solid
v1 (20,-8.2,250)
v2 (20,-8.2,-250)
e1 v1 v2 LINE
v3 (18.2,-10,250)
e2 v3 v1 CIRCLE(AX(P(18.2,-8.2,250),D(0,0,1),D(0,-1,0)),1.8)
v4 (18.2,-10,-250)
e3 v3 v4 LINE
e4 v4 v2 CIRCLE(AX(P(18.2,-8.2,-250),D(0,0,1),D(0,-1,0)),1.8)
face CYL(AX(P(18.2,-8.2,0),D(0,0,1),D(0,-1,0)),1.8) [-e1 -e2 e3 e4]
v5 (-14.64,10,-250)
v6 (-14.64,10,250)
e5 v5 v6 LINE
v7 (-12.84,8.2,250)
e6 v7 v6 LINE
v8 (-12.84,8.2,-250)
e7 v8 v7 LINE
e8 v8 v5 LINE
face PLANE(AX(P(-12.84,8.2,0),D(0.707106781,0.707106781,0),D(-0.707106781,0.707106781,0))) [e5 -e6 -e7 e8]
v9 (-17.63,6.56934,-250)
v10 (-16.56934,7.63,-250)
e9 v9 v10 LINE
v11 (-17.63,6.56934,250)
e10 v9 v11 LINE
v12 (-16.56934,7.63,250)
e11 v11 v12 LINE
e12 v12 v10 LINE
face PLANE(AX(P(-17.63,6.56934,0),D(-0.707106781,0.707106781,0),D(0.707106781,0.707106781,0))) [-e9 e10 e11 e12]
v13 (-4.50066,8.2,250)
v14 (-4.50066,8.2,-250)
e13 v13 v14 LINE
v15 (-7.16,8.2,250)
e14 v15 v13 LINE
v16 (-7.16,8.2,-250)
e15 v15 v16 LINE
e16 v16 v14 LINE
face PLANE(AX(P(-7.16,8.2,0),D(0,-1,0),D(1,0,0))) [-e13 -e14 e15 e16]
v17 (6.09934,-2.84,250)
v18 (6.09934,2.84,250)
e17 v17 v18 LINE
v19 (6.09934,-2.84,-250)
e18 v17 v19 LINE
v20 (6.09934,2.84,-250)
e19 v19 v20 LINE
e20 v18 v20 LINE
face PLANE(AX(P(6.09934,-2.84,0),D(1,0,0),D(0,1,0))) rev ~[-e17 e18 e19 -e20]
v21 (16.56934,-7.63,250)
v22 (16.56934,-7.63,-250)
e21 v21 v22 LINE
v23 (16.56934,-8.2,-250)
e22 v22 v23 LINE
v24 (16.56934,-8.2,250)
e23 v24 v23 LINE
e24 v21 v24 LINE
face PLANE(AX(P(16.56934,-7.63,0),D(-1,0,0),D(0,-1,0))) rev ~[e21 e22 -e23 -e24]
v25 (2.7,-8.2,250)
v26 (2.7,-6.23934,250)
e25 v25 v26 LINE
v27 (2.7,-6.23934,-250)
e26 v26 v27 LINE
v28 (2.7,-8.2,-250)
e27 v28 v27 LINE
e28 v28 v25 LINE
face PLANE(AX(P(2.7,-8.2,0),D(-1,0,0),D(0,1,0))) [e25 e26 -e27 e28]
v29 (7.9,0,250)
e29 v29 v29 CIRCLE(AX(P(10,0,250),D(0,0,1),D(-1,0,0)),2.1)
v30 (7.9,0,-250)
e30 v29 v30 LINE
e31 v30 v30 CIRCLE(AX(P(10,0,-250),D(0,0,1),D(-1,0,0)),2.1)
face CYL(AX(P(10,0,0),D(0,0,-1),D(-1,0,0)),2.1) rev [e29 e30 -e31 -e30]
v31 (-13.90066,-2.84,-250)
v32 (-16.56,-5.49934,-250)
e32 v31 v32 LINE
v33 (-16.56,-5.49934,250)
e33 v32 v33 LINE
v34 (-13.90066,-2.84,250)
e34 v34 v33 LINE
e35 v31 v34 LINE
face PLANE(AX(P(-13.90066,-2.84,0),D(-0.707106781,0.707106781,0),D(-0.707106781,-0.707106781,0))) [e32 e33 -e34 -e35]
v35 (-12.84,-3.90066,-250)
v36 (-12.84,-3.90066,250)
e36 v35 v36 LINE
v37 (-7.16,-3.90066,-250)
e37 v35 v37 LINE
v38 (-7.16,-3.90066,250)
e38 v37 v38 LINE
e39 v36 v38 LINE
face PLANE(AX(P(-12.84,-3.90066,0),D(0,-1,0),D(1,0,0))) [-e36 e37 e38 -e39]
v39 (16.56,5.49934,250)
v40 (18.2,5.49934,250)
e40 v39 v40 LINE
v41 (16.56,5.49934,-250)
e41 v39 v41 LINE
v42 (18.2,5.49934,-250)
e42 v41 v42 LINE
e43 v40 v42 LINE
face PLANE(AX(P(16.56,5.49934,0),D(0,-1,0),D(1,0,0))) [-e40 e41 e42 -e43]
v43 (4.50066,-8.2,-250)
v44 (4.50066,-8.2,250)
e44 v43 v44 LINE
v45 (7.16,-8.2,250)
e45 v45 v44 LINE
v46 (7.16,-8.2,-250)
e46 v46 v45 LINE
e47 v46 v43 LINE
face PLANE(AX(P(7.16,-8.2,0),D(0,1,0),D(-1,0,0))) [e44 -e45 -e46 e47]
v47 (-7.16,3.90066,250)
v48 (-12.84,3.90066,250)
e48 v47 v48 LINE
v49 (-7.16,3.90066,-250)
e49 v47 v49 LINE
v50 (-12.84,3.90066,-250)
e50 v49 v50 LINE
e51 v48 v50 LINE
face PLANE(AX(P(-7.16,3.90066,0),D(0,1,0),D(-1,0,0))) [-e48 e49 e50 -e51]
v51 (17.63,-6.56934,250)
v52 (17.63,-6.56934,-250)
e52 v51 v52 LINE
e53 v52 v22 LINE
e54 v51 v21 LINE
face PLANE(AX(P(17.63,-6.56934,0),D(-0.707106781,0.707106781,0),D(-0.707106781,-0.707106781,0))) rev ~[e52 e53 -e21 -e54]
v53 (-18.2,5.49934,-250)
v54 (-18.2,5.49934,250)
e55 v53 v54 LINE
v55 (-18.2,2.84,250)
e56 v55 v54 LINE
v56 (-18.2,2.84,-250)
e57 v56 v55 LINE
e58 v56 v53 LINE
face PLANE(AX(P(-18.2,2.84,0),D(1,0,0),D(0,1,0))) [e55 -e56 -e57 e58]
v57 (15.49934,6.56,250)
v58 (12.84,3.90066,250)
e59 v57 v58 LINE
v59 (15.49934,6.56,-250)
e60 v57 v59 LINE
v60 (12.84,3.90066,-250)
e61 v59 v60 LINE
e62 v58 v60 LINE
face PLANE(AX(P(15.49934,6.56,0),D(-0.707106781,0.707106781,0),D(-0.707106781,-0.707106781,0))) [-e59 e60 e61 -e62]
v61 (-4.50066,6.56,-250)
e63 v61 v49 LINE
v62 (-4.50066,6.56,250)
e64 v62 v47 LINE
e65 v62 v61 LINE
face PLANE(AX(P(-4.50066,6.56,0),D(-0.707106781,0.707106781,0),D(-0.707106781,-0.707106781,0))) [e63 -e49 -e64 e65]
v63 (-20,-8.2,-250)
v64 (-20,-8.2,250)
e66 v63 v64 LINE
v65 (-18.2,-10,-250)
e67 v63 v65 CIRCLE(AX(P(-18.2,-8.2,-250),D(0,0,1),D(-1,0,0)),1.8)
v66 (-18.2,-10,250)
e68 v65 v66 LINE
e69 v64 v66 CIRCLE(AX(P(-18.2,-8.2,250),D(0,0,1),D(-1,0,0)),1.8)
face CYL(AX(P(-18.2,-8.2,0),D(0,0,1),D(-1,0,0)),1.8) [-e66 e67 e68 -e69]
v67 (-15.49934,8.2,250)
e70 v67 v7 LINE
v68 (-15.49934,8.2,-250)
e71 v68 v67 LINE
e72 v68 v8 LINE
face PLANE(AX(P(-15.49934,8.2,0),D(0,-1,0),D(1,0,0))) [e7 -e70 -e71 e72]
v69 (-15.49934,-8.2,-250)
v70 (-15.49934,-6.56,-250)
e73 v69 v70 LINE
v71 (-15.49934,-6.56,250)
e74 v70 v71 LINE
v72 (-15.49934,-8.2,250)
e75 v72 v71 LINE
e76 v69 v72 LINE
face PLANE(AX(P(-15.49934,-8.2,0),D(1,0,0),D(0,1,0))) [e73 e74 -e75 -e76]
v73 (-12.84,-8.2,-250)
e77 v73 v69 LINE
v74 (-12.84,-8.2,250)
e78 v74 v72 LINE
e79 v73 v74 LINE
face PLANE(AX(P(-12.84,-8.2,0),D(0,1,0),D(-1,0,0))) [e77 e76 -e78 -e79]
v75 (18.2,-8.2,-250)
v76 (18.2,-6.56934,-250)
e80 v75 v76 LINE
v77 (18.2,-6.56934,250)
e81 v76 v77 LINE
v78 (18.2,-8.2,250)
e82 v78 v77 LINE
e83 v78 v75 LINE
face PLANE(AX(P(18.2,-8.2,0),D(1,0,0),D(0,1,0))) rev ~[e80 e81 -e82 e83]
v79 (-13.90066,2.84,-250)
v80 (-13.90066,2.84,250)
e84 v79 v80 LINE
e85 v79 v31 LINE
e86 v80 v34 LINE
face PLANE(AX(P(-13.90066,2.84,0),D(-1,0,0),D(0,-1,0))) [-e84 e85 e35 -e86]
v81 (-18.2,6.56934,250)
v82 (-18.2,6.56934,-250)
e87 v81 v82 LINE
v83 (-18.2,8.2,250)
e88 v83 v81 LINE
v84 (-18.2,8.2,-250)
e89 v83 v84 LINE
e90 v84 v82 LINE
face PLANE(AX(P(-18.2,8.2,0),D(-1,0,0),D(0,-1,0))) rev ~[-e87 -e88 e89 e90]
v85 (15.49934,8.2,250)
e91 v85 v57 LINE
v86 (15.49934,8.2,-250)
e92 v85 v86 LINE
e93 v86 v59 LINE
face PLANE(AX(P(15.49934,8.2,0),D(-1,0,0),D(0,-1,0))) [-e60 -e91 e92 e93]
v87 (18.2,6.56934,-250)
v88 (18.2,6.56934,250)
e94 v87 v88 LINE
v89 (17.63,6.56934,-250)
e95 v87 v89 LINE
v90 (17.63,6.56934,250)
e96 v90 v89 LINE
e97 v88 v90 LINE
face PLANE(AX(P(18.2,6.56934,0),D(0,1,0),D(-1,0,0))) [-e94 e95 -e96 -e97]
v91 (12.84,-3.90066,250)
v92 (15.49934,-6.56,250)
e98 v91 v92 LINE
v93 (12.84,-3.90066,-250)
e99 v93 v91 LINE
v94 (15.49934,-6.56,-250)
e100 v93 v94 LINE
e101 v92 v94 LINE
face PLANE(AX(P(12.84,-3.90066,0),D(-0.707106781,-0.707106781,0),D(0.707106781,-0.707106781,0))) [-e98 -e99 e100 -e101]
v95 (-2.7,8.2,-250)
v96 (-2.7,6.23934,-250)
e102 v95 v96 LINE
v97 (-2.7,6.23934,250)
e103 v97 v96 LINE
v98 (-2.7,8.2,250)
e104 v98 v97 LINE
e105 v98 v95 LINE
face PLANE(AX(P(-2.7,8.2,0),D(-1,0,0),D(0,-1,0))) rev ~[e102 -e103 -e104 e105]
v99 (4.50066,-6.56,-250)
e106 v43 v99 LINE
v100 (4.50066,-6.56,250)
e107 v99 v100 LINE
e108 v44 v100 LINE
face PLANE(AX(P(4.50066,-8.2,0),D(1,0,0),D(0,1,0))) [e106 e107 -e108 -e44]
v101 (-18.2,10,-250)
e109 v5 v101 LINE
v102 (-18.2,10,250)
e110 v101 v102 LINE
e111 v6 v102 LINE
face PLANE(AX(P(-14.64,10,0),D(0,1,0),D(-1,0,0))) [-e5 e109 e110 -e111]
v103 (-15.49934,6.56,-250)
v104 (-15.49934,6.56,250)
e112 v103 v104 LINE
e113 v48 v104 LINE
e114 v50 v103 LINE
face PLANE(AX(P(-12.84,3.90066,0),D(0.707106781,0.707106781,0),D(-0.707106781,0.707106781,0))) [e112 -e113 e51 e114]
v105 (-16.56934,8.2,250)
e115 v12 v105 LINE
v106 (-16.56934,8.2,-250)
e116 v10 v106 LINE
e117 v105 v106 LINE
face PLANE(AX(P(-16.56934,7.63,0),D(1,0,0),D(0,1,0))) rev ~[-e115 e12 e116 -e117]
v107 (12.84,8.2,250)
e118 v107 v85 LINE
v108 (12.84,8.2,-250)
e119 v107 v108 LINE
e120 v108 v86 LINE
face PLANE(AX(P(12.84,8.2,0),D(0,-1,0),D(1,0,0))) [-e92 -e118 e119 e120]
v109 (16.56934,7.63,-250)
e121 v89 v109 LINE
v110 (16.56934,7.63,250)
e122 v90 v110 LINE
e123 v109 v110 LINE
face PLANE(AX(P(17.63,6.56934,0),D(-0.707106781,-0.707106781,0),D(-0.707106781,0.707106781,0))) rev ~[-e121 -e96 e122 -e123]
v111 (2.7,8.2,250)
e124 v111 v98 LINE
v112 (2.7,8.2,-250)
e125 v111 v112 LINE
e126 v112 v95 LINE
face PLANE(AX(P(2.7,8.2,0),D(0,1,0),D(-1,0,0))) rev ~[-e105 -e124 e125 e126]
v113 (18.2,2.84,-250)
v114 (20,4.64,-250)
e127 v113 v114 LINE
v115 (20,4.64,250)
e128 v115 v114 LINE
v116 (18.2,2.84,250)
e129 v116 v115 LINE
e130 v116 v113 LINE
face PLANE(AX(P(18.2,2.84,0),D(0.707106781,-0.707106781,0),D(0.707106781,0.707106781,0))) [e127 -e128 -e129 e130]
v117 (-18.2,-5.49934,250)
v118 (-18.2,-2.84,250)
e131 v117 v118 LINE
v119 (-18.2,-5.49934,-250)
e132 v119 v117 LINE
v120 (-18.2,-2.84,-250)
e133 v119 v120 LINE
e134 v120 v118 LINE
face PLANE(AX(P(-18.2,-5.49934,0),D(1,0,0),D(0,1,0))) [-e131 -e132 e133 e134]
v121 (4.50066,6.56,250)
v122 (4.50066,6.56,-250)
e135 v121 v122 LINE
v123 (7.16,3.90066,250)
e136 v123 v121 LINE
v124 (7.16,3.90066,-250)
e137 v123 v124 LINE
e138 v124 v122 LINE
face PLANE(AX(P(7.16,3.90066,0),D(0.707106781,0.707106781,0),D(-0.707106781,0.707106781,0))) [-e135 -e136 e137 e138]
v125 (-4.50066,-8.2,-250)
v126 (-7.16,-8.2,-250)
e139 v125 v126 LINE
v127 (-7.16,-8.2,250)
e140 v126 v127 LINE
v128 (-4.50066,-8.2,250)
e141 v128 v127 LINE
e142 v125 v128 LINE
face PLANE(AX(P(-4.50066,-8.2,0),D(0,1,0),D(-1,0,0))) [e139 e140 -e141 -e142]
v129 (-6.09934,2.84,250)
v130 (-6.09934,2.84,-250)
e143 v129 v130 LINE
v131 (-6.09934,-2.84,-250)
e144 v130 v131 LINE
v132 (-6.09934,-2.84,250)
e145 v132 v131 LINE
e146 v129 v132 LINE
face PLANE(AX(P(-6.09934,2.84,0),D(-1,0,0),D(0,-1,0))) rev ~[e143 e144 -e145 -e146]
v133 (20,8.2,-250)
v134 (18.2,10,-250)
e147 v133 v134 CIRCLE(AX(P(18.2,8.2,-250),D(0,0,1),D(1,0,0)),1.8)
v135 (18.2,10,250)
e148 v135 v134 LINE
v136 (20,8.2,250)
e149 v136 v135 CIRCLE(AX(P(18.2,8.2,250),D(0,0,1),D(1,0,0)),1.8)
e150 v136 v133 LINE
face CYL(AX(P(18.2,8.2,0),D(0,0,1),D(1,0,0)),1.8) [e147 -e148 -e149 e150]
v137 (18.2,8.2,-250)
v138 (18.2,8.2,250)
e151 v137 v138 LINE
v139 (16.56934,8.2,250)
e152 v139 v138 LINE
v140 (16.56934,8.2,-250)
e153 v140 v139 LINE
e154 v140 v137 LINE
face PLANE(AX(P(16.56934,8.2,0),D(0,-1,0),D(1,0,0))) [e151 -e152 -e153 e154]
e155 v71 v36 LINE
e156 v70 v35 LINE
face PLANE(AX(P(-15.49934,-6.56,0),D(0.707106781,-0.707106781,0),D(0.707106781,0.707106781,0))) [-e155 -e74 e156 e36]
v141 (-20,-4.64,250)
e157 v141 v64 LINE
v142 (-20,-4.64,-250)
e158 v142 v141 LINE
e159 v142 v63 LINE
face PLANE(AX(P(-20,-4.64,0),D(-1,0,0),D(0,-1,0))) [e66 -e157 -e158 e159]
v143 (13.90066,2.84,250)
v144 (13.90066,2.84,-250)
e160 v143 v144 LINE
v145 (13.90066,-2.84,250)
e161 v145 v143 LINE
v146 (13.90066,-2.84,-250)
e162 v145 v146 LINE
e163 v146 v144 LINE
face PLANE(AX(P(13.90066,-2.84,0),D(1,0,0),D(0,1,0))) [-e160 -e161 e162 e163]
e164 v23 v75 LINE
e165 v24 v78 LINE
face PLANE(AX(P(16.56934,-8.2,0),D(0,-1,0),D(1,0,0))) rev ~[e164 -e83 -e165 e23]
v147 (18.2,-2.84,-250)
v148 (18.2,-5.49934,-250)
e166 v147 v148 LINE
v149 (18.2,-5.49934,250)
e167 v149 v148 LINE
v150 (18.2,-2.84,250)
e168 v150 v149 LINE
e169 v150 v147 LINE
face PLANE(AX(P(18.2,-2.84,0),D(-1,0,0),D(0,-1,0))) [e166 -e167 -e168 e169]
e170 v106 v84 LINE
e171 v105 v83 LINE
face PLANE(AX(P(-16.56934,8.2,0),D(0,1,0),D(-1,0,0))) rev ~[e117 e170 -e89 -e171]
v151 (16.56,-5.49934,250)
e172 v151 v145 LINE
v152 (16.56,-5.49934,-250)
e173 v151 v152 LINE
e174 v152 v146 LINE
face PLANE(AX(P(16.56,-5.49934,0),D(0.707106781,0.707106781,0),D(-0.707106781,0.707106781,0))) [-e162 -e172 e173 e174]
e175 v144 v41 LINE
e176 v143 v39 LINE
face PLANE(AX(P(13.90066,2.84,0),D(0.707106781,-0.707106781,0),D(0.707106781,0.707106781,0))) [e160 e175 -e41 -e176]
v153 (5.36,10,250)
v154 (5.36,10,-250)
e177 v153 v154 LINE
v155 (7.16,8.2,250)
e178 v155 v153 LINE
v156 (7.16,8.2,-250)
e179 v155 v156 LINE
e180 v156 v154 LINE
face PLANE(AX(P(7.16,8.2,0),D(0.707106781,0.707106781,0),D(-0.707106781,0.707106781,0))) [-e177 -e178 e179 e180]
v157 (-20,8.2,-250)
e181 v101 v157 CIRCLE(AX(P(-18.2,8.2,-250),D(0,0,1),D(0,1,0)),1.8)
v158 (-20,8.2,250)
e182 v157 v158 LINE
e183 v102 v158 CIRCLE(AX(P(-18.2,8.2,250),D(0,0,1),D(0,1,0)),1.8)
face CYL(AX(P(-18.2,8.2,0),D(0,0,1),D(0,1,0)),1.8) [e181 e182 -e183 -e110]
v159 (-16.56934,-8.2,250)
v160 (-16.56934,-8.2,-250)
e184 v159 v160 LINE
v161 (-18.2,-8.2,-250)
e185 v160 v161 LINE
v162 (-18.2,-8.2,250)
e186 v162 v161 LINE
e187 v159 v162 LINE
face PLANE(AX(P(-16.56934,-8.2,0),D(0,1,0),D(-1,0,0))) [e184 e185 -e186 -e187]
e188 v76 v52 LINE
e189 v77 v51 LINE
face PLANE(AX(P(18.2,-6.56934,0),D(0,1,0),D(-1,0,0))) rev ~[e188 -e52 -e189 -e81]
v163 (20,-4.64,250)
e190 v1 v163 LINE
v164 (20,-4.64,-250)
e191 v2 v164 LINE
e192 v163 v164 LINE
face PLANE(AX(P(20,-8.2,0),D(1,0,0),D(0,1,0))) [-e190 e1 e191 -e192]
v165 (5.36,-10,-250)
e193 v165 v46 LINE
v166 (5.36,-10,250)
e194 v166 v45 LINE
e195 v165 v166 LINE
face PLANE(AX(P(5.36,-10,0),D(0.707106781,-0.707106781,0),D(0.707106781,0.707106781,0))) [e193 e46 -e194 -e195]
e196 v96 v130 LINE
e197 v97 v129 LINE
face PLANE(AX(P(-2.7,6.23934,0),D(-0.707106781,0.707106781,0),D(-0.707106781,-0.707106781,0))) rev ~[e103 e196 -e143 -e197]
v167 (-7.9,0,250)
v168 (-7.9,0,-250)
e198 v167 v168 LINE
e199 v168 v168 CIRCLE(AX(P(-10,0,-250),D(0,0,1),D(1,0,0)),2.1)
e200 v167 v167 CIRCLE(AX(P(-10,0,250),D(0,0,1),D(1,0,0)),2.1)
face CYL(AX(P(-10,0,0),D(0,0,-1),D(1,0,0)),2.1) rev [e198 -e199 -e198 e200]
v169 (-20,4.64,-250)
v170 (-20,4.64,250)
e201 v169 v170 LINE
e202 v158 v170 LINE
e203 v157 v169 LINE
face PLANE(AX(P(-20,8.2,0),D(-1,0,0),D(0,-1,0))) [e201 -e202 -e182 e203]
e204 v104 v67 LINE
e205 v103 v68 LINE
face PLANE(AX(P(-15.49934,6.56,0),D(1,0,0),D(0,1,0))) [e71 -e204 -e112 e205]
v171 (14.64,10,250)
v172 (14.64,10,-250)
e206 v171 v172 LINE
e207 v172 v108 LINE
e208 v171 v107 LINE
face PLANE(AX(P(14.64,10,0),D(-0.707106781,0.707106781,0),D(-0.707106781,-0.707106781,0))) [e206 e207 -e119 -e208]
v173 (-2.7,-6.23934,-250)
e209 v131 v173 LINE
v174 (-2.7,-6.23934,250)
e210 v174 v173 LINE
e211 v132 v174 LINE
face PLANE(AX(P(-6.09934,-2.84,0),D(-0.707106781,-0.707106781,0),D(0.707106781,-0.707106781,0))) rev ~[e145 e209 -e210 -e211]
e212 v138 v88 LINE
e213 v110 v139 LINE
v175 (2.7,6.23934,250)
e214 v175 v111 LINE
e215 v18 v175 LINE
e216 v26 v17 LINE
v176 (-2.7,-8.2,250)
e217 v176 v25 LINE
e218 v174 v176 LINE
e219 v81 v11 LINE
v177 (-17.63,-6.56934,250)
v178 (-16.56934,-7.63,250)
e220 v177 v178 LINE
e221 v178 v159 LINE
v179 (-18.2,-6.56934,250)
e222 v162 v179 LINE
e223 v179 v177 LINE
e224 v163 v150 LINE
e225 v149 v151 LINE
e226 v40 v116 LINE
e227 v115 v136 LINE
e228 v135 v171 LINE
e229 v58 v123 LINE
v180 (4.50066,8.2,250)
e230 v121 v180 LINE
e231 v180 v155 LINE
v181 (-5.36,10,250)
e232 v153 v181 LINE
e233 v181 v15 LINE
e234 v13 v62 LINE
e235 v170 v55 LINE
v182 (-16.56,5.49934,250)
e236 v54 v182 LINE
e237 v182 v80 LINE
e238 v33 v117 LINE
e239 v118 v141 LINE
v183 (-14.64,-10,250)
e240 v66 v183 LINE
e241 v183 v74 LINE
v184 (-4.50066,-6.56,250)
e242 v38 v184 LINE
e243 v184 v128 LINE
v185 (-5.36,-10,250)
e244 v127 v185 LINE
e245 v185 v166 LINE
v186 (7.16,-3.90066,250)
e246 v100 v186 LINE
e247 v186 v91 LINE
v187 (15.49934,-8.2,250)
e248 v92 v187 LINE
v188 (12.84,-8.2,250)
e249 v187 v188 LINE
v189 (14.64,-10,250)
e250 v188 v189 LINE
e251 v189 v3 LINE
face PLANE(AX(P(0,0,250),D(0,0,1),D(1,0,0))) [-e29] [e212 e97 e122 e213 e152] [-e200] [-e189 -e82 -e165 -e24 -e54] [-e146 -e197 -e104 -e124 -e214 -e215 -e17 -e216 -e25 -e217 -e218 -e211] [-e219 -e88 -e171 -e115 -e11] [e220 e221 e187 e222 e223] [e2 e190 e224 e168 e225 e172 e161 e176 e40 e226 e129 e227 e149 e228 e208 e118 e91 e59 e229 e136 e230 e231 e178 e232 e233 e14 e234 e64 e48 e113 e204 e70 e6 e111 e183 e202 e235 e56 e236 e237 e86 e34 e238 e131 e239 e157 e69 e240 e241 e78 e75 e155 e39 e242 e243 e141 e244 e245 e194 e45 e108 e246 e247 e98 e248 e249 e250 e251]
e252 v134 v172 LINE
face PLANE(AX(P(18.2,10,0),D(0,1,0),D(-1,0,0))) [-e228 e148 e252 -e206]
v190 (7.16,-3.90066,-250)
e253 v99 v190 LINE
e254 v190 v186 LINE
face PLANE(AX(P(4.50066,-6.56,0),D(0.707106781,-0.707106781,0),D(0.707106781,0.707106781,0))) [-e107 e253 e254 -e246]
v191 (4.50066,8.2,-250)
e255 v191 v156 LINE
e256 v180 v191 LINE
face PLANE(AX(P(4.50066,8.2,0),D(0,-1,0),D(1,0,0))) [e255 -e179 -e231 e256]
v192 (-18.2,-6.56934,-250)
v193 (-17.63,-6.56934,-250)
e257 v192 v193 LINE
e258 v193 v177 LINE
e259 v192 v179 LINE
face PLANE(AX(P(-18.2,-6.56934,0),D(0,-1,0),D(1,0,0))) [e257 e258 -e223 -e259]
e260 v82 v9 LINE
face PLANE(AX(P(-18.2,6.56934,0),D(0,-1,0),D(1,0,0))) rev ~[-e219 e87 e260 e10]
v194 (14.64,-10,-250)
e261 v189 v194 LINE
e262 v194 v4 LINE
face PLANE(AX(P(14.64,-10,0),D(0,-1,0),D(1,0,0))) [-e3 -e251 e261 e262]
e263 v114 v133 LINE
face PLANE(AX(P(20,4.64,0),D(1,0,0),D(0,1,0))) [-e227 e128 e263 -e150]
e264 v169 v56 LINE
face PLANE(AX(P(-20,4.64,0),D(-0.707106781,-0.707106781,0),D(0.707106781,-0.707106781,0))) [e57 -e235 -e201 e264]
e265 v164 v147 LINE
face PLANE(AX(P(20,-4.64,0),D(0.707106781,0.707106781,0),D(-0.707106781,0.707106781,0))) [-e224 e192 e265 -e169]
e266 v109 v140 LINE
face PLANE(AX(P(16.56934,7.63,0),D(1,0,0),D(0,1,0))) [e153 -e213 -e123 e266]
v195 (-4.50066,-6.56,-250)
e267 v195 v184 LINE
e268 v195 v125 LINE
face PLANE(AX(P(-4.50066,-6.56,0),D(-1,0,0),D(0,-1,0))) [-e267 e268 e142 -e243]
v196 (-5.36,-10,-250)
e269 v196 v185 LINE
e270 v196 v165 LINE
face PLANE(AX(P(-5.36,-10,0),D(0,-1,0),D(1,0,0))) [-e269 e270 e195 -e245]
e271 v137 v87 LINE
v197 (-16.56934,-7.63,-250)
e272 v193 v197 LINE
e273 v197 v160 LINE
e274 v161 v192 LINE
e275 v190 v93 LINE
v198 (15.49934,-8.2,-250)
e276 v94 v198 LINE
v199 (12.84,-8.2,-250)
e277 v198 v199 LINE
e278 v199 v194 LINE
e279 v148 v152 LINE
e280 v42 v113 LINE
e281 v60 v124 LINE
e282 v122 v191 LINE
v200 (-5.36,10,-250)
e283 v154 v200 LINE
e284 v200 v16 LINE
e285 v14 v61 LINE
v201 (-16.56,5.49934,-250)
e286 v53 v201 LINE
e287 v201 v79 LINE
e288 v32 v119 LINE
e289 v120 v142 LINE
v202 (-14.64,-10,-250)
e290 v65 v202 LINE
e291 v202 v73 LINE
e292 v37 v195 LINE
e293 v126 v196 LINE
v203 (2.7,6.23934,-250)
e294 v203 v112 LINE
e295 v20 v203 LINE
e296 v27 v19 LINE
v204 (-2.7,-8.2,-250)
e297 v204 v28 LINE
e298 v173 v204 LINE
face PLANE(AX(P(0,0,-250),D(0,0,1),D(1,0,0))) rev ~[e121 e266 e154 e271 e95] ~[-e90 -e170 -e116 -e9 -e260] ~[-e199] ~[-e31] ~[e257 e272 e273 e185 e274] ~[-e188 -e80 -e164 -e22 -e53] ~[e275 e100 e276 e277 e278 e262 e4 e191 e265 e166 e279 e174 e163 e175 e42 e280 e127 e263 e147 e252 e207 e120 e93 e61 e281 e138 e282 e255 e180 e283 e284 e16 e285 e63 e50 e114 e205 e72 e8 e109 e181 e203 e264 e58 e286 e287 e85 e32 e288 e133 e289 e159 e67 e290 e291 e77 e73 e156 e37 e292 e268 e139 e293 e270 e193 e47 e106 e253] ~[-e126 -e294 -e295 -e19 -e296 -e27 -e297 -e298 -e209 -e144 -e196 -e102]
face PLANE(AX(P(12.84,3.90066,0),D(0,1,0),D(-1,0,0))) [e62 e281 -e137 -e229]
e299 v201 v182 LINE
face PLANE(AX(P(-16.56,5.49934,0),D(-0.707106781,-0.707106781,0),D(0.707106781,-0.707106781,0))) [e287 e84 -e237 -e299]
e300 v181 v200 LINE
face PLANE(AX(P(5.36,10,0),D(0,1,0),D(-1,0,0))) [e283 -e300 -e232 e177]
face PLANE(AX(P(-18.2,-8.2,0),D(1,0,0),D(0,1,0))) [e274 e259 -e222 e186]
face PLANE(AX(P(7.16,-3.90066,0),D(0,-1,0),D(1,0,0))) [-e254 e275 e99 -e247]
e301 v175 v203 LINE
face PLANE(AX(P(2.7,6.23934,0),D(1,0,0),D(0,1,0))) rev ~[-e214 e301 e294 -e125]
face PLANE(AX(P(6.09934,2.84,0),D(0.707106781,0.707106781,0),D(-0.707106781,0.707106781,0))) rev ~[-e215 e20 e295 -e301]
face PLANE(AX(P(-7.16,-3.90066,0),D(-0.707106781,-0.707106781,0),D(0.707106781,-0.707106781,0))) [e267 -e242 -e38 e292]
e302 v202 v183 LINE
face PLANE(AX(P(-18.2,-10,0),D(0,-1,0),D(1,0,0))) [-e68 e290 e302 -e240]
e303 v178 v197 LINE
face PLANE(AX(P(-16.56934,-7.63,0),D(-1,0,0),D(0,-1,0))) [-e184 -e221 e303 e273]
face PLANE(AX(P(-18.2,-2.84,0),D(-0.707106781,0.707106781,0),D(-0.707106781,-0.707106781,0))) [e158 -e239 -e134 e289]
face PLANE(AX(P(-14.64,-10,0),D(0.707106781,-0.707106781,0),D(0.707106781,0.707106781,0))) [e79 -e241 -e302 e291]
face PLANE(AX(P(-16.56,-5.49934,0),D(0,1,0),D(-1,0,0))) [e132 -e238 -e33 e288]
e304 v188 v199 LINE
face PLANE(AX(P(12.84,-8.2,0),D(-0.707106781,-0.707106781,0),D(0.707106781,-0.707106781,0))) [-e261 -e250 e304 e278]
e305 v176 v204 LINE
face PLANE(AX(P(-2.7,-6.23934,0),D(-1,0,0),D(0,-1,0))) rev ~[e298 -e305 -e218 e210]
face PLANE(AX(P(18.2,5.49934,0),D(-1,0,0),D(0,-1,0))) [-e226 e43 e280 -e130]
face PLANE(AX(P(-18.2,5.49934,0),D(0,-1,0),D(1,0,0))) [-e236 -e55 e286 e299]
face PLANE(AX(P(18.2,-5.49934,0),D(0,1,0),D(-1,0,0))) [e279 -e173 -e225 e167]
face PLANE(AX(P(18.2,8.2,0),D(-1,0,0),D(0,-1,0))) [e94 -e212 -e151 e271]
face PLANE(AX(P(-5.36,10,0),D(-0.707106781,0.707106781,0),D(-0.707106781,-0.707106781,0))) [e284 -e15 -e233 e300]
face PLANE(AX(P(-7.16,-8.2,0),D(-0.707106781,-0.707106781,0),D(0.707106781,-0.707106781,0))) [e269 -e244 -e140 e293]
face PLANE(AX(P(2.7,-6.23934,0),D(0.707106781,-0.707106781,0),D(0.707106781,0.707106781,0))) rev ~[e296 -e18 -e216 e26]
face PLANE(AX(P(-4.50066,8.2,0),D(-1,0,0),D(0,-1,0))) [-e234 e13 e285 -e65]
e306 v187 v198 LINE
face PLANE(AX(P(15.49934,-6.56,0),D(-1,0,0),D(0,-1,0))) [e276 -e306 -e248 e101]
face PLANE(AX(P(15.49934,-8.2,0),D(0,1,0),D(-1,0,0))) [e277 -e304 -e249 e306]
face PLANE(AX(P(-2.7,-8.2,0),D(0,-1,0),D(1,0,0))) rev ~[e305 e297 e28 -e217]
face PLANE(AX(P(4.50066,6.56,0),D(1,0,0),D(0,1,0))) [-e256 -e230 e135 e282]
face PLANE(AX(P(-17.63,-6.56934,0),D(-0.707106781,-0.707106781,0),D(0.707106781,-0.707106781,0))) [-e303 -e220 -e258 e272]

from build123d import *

# Parameters (mm, degrees)
ESQUISSE1_R        = 2.1
BOSS_EXTRU_1_DEPTH = 250


with BuildPart() as part:
    # Esquisse1 → Boss.-Extru.1 (new, symmetric)
    with BuildSketch(Plane.XY):
        with BuildLine():
            Line((-10, 3.900660172), (-12.84, 3.900660172))
            Line((-12.84, 3.900660172), (-15.499339828, 6.56))
            Line((-15.499339828, 6.56), (-15.499339828, 8.2))
            Line((-15.499339828, 8.2), (-12.84, 8.2))
            Line((-12.84, 8.2), (-14.64, 10))
            Line((-14.64, 10), (-18.2, 10))
            ThreePointArc((-18.2, 10), (-19.472792206, 9.472792206), (-20, 8.2))
            Line((-20, 8.2), (-20, 4.64))
            Line((-20, 4.64), (-18.2, 2.84))
            Line((-18.2, 2.84), (-18.2, 5.499339828))
            Line((-18.2, 5.499339828), (-16.56, 5.499339828))
            Line((-16.56, 5.499339828), (-13.900660172, 2.84))
            Line((-13.900660172, 2.84), (-13.900660172, 0))
            Line((-13.900660172, 0), (-13.900660172, -2.84))
            Line((-13.900660172, -2.84), (-16.56, -5.499339828))
            Line((-16.56, -5.499339828), (-18.2, -5.499339828))
            Line((-18.2, -5.499339828), (-18.2, -2.84))
            Line((-18.2, -2.84), (-20, -4.64))
            Line((-20, -4.64), (-20, -8.2))
            ThreePointArc((-20, -8.2), (-19.472792206, -9.472792206), (-18.2, -10))
            Line((-18.2, -10), (-14.64, -10))
            Line((-14.64, -10), (-12.84, -8.2))
            Line((-12.84, -8.2), (-15.499339828, -8.2))
            Line((-15.499339828, -8.2), (-15.499339828, -6.56))
            Line((-15.499339828, -6.56), (-12.84, -3.900660172))
            Line((-12.84, -3.900660172), (-10, -3.900660172))
            Line((-10, -3.900660172), (-7.16, -3.900660172))
            Line((-7.16, -3.900660172), (-4.500660172, -6.56))
            Line((-4.500660172, -6.56), (-4.500660172, -8.2))
            Line((-4.500660172, -8.2), (-7.16, -8.2))
            Line((-7.16, -8.2), (-5.36, -10))
            Line((-5.36, -10), (5.36, -10))
            Line((5.36, -10), (7.16, -8.2))
            Line((7.16, -8.2), (4.500660172, -8.2))
            Line((4.500660172, -8.2), (4.500660172, -6.56))
            Line((4.500660172, -6.56), (7.16, -3.900660172))
            Line((7.16, -3.900660172), (10, -3.900660172))
            Line((10, -3.900660172), (12.84, -3.900660172))
            Line((12.84, -3.900660172), (15.499339828, -6.56))
            Line((15.499339828, -6.56), (15.499339828, -8.2))
            Line((15.499339828, -8.2), (12.84, -8.2))
            Line((12.84, -8.2), (14.64, -10))
            Line((14.64, -10), (18.2, -10))
            ThreePointArc((18.2, -10), (19.472792206, -9.472792206), (20, -8.2))
            Line((20, -8.2), (20, -4.64))
            Line((20, -4.64), (18.2, -2.84))
            Line((18.2, -2.84), (18.2, -5.499339828))
            Line((18.2, -5.499339828), (16.56, -5.499339828))
            Line((16.56, -5.499339828), (13.900660172, -2.84))
            Line((13.900660172, -2.84), (13.900660172, 0))
            Line((13.900660172, 0), (13.900660172, 2.84))
            Line((13.900660172, 2.84), (16.56, 5.499339828))
            Line((16.56, 5.499339828), (18.2, 5.499339828))
            Line((18.2, 5.499339828), (18.2, 2.84))
            Line((18.2, 2.84), (20, 4.64))
            Line((20, 4.64), (20, 8.2))
            ThreePointArc((20, 8.2), (19.472792206, 9.472792206), (18.2, 10))
            Line((18.2, 10), (14.64, 10))
            Line((14.64, 10), (12.84, 8.2))
            Line((12.84, 8.2), (15.499339828, 8.2))
            Line((15.499339828, 8.2), (15.499339828, 6.56))
            Line((15.499339828, 6.56), (12.84, 3.900660172))
            Line((12.84, 3.900660172), (10, 3.900660172))
            Line((10, 3.900660172), (7.16, 3.900660172))
            Line((7.16, 3.900660172), (4.500660172, 6.56))
            Line((4.500660172, 6.56), (4.500660172, 8.2))
            Line((4.500660172, 8.2), (7.16, 8.2))
            Line((7.16, 8.2), (5.36, 10))
            Line((5.36, 10), (-5.36, 10))
            Line((-5.36, 10), (-7.16, 8.2))
            Line((-7.16, 8.2), (-4.500660172, 8.2))
            Line((-4.500660172, 8.2), (-4.500660172, 6.56))
            Line((-4.500660172, 6.56), (-7.16, 3.900660172))
            Line((-7.16, 3.900660172), (-10, 3.900660172))
        make_face()
        with Locations((-10, 0)):
            Circle(ESQUISSE1_R, mode=Mode.SUBTRACT)
        with Locations(Location((10, 0, 0), (0, 0, 180))):
            Circle(ESQUISSE1_R, mode=Mode.SUBTRACT)
        Polygon((-2.7, 8.2), (-2.7, 6.239339828), (-6.099339828, 2.84), (-6.099339828, -2.84), (-2.7, -6.239339828), (-2.7, -8.2), (2.7, -8.2), (2.7, -6.239339828), (6.099339828, -2.84), (6.099339828, 2.84), (2.7, 6.239339828), (2.7, 8.2), align=None, mode=Mode.SUBTRACT)
        Polygon((-18.2, 8.2), (-18.2, 6.569339828), (-17.63, 6.569339828), (-16.569339828, 7.63), (-16.569339828, 8.2), align=None, mode=Mode.SUBTRACT)
        Polygon((-18.2, -6.569339828), (-17.63, -6.569339828), (-16.569339828, -7.63), (-16.569339828, -8.2), (-18.2, -8.2), align=None, mode=Mode.SUBTRACT)
        Polygon((18.2, 6.569339828), (17.63, 6.569339828), (16.569339828, 7.63), (16.569339828, 8.2), (18.2, 8.2), align=None, mode=Mode.SUBTRACT)
        Polygon((18.2, -6.569339828), (17.63, -6.569339828), (16.569339828, -7.63), (16.569339828, -8.2), (18.2, -8.2), align=None, mode=Mode.SUBTRACT)
    extrude(amount=BOSS_EXTRU_1_DEPTH, both=True)


solid = part.part
